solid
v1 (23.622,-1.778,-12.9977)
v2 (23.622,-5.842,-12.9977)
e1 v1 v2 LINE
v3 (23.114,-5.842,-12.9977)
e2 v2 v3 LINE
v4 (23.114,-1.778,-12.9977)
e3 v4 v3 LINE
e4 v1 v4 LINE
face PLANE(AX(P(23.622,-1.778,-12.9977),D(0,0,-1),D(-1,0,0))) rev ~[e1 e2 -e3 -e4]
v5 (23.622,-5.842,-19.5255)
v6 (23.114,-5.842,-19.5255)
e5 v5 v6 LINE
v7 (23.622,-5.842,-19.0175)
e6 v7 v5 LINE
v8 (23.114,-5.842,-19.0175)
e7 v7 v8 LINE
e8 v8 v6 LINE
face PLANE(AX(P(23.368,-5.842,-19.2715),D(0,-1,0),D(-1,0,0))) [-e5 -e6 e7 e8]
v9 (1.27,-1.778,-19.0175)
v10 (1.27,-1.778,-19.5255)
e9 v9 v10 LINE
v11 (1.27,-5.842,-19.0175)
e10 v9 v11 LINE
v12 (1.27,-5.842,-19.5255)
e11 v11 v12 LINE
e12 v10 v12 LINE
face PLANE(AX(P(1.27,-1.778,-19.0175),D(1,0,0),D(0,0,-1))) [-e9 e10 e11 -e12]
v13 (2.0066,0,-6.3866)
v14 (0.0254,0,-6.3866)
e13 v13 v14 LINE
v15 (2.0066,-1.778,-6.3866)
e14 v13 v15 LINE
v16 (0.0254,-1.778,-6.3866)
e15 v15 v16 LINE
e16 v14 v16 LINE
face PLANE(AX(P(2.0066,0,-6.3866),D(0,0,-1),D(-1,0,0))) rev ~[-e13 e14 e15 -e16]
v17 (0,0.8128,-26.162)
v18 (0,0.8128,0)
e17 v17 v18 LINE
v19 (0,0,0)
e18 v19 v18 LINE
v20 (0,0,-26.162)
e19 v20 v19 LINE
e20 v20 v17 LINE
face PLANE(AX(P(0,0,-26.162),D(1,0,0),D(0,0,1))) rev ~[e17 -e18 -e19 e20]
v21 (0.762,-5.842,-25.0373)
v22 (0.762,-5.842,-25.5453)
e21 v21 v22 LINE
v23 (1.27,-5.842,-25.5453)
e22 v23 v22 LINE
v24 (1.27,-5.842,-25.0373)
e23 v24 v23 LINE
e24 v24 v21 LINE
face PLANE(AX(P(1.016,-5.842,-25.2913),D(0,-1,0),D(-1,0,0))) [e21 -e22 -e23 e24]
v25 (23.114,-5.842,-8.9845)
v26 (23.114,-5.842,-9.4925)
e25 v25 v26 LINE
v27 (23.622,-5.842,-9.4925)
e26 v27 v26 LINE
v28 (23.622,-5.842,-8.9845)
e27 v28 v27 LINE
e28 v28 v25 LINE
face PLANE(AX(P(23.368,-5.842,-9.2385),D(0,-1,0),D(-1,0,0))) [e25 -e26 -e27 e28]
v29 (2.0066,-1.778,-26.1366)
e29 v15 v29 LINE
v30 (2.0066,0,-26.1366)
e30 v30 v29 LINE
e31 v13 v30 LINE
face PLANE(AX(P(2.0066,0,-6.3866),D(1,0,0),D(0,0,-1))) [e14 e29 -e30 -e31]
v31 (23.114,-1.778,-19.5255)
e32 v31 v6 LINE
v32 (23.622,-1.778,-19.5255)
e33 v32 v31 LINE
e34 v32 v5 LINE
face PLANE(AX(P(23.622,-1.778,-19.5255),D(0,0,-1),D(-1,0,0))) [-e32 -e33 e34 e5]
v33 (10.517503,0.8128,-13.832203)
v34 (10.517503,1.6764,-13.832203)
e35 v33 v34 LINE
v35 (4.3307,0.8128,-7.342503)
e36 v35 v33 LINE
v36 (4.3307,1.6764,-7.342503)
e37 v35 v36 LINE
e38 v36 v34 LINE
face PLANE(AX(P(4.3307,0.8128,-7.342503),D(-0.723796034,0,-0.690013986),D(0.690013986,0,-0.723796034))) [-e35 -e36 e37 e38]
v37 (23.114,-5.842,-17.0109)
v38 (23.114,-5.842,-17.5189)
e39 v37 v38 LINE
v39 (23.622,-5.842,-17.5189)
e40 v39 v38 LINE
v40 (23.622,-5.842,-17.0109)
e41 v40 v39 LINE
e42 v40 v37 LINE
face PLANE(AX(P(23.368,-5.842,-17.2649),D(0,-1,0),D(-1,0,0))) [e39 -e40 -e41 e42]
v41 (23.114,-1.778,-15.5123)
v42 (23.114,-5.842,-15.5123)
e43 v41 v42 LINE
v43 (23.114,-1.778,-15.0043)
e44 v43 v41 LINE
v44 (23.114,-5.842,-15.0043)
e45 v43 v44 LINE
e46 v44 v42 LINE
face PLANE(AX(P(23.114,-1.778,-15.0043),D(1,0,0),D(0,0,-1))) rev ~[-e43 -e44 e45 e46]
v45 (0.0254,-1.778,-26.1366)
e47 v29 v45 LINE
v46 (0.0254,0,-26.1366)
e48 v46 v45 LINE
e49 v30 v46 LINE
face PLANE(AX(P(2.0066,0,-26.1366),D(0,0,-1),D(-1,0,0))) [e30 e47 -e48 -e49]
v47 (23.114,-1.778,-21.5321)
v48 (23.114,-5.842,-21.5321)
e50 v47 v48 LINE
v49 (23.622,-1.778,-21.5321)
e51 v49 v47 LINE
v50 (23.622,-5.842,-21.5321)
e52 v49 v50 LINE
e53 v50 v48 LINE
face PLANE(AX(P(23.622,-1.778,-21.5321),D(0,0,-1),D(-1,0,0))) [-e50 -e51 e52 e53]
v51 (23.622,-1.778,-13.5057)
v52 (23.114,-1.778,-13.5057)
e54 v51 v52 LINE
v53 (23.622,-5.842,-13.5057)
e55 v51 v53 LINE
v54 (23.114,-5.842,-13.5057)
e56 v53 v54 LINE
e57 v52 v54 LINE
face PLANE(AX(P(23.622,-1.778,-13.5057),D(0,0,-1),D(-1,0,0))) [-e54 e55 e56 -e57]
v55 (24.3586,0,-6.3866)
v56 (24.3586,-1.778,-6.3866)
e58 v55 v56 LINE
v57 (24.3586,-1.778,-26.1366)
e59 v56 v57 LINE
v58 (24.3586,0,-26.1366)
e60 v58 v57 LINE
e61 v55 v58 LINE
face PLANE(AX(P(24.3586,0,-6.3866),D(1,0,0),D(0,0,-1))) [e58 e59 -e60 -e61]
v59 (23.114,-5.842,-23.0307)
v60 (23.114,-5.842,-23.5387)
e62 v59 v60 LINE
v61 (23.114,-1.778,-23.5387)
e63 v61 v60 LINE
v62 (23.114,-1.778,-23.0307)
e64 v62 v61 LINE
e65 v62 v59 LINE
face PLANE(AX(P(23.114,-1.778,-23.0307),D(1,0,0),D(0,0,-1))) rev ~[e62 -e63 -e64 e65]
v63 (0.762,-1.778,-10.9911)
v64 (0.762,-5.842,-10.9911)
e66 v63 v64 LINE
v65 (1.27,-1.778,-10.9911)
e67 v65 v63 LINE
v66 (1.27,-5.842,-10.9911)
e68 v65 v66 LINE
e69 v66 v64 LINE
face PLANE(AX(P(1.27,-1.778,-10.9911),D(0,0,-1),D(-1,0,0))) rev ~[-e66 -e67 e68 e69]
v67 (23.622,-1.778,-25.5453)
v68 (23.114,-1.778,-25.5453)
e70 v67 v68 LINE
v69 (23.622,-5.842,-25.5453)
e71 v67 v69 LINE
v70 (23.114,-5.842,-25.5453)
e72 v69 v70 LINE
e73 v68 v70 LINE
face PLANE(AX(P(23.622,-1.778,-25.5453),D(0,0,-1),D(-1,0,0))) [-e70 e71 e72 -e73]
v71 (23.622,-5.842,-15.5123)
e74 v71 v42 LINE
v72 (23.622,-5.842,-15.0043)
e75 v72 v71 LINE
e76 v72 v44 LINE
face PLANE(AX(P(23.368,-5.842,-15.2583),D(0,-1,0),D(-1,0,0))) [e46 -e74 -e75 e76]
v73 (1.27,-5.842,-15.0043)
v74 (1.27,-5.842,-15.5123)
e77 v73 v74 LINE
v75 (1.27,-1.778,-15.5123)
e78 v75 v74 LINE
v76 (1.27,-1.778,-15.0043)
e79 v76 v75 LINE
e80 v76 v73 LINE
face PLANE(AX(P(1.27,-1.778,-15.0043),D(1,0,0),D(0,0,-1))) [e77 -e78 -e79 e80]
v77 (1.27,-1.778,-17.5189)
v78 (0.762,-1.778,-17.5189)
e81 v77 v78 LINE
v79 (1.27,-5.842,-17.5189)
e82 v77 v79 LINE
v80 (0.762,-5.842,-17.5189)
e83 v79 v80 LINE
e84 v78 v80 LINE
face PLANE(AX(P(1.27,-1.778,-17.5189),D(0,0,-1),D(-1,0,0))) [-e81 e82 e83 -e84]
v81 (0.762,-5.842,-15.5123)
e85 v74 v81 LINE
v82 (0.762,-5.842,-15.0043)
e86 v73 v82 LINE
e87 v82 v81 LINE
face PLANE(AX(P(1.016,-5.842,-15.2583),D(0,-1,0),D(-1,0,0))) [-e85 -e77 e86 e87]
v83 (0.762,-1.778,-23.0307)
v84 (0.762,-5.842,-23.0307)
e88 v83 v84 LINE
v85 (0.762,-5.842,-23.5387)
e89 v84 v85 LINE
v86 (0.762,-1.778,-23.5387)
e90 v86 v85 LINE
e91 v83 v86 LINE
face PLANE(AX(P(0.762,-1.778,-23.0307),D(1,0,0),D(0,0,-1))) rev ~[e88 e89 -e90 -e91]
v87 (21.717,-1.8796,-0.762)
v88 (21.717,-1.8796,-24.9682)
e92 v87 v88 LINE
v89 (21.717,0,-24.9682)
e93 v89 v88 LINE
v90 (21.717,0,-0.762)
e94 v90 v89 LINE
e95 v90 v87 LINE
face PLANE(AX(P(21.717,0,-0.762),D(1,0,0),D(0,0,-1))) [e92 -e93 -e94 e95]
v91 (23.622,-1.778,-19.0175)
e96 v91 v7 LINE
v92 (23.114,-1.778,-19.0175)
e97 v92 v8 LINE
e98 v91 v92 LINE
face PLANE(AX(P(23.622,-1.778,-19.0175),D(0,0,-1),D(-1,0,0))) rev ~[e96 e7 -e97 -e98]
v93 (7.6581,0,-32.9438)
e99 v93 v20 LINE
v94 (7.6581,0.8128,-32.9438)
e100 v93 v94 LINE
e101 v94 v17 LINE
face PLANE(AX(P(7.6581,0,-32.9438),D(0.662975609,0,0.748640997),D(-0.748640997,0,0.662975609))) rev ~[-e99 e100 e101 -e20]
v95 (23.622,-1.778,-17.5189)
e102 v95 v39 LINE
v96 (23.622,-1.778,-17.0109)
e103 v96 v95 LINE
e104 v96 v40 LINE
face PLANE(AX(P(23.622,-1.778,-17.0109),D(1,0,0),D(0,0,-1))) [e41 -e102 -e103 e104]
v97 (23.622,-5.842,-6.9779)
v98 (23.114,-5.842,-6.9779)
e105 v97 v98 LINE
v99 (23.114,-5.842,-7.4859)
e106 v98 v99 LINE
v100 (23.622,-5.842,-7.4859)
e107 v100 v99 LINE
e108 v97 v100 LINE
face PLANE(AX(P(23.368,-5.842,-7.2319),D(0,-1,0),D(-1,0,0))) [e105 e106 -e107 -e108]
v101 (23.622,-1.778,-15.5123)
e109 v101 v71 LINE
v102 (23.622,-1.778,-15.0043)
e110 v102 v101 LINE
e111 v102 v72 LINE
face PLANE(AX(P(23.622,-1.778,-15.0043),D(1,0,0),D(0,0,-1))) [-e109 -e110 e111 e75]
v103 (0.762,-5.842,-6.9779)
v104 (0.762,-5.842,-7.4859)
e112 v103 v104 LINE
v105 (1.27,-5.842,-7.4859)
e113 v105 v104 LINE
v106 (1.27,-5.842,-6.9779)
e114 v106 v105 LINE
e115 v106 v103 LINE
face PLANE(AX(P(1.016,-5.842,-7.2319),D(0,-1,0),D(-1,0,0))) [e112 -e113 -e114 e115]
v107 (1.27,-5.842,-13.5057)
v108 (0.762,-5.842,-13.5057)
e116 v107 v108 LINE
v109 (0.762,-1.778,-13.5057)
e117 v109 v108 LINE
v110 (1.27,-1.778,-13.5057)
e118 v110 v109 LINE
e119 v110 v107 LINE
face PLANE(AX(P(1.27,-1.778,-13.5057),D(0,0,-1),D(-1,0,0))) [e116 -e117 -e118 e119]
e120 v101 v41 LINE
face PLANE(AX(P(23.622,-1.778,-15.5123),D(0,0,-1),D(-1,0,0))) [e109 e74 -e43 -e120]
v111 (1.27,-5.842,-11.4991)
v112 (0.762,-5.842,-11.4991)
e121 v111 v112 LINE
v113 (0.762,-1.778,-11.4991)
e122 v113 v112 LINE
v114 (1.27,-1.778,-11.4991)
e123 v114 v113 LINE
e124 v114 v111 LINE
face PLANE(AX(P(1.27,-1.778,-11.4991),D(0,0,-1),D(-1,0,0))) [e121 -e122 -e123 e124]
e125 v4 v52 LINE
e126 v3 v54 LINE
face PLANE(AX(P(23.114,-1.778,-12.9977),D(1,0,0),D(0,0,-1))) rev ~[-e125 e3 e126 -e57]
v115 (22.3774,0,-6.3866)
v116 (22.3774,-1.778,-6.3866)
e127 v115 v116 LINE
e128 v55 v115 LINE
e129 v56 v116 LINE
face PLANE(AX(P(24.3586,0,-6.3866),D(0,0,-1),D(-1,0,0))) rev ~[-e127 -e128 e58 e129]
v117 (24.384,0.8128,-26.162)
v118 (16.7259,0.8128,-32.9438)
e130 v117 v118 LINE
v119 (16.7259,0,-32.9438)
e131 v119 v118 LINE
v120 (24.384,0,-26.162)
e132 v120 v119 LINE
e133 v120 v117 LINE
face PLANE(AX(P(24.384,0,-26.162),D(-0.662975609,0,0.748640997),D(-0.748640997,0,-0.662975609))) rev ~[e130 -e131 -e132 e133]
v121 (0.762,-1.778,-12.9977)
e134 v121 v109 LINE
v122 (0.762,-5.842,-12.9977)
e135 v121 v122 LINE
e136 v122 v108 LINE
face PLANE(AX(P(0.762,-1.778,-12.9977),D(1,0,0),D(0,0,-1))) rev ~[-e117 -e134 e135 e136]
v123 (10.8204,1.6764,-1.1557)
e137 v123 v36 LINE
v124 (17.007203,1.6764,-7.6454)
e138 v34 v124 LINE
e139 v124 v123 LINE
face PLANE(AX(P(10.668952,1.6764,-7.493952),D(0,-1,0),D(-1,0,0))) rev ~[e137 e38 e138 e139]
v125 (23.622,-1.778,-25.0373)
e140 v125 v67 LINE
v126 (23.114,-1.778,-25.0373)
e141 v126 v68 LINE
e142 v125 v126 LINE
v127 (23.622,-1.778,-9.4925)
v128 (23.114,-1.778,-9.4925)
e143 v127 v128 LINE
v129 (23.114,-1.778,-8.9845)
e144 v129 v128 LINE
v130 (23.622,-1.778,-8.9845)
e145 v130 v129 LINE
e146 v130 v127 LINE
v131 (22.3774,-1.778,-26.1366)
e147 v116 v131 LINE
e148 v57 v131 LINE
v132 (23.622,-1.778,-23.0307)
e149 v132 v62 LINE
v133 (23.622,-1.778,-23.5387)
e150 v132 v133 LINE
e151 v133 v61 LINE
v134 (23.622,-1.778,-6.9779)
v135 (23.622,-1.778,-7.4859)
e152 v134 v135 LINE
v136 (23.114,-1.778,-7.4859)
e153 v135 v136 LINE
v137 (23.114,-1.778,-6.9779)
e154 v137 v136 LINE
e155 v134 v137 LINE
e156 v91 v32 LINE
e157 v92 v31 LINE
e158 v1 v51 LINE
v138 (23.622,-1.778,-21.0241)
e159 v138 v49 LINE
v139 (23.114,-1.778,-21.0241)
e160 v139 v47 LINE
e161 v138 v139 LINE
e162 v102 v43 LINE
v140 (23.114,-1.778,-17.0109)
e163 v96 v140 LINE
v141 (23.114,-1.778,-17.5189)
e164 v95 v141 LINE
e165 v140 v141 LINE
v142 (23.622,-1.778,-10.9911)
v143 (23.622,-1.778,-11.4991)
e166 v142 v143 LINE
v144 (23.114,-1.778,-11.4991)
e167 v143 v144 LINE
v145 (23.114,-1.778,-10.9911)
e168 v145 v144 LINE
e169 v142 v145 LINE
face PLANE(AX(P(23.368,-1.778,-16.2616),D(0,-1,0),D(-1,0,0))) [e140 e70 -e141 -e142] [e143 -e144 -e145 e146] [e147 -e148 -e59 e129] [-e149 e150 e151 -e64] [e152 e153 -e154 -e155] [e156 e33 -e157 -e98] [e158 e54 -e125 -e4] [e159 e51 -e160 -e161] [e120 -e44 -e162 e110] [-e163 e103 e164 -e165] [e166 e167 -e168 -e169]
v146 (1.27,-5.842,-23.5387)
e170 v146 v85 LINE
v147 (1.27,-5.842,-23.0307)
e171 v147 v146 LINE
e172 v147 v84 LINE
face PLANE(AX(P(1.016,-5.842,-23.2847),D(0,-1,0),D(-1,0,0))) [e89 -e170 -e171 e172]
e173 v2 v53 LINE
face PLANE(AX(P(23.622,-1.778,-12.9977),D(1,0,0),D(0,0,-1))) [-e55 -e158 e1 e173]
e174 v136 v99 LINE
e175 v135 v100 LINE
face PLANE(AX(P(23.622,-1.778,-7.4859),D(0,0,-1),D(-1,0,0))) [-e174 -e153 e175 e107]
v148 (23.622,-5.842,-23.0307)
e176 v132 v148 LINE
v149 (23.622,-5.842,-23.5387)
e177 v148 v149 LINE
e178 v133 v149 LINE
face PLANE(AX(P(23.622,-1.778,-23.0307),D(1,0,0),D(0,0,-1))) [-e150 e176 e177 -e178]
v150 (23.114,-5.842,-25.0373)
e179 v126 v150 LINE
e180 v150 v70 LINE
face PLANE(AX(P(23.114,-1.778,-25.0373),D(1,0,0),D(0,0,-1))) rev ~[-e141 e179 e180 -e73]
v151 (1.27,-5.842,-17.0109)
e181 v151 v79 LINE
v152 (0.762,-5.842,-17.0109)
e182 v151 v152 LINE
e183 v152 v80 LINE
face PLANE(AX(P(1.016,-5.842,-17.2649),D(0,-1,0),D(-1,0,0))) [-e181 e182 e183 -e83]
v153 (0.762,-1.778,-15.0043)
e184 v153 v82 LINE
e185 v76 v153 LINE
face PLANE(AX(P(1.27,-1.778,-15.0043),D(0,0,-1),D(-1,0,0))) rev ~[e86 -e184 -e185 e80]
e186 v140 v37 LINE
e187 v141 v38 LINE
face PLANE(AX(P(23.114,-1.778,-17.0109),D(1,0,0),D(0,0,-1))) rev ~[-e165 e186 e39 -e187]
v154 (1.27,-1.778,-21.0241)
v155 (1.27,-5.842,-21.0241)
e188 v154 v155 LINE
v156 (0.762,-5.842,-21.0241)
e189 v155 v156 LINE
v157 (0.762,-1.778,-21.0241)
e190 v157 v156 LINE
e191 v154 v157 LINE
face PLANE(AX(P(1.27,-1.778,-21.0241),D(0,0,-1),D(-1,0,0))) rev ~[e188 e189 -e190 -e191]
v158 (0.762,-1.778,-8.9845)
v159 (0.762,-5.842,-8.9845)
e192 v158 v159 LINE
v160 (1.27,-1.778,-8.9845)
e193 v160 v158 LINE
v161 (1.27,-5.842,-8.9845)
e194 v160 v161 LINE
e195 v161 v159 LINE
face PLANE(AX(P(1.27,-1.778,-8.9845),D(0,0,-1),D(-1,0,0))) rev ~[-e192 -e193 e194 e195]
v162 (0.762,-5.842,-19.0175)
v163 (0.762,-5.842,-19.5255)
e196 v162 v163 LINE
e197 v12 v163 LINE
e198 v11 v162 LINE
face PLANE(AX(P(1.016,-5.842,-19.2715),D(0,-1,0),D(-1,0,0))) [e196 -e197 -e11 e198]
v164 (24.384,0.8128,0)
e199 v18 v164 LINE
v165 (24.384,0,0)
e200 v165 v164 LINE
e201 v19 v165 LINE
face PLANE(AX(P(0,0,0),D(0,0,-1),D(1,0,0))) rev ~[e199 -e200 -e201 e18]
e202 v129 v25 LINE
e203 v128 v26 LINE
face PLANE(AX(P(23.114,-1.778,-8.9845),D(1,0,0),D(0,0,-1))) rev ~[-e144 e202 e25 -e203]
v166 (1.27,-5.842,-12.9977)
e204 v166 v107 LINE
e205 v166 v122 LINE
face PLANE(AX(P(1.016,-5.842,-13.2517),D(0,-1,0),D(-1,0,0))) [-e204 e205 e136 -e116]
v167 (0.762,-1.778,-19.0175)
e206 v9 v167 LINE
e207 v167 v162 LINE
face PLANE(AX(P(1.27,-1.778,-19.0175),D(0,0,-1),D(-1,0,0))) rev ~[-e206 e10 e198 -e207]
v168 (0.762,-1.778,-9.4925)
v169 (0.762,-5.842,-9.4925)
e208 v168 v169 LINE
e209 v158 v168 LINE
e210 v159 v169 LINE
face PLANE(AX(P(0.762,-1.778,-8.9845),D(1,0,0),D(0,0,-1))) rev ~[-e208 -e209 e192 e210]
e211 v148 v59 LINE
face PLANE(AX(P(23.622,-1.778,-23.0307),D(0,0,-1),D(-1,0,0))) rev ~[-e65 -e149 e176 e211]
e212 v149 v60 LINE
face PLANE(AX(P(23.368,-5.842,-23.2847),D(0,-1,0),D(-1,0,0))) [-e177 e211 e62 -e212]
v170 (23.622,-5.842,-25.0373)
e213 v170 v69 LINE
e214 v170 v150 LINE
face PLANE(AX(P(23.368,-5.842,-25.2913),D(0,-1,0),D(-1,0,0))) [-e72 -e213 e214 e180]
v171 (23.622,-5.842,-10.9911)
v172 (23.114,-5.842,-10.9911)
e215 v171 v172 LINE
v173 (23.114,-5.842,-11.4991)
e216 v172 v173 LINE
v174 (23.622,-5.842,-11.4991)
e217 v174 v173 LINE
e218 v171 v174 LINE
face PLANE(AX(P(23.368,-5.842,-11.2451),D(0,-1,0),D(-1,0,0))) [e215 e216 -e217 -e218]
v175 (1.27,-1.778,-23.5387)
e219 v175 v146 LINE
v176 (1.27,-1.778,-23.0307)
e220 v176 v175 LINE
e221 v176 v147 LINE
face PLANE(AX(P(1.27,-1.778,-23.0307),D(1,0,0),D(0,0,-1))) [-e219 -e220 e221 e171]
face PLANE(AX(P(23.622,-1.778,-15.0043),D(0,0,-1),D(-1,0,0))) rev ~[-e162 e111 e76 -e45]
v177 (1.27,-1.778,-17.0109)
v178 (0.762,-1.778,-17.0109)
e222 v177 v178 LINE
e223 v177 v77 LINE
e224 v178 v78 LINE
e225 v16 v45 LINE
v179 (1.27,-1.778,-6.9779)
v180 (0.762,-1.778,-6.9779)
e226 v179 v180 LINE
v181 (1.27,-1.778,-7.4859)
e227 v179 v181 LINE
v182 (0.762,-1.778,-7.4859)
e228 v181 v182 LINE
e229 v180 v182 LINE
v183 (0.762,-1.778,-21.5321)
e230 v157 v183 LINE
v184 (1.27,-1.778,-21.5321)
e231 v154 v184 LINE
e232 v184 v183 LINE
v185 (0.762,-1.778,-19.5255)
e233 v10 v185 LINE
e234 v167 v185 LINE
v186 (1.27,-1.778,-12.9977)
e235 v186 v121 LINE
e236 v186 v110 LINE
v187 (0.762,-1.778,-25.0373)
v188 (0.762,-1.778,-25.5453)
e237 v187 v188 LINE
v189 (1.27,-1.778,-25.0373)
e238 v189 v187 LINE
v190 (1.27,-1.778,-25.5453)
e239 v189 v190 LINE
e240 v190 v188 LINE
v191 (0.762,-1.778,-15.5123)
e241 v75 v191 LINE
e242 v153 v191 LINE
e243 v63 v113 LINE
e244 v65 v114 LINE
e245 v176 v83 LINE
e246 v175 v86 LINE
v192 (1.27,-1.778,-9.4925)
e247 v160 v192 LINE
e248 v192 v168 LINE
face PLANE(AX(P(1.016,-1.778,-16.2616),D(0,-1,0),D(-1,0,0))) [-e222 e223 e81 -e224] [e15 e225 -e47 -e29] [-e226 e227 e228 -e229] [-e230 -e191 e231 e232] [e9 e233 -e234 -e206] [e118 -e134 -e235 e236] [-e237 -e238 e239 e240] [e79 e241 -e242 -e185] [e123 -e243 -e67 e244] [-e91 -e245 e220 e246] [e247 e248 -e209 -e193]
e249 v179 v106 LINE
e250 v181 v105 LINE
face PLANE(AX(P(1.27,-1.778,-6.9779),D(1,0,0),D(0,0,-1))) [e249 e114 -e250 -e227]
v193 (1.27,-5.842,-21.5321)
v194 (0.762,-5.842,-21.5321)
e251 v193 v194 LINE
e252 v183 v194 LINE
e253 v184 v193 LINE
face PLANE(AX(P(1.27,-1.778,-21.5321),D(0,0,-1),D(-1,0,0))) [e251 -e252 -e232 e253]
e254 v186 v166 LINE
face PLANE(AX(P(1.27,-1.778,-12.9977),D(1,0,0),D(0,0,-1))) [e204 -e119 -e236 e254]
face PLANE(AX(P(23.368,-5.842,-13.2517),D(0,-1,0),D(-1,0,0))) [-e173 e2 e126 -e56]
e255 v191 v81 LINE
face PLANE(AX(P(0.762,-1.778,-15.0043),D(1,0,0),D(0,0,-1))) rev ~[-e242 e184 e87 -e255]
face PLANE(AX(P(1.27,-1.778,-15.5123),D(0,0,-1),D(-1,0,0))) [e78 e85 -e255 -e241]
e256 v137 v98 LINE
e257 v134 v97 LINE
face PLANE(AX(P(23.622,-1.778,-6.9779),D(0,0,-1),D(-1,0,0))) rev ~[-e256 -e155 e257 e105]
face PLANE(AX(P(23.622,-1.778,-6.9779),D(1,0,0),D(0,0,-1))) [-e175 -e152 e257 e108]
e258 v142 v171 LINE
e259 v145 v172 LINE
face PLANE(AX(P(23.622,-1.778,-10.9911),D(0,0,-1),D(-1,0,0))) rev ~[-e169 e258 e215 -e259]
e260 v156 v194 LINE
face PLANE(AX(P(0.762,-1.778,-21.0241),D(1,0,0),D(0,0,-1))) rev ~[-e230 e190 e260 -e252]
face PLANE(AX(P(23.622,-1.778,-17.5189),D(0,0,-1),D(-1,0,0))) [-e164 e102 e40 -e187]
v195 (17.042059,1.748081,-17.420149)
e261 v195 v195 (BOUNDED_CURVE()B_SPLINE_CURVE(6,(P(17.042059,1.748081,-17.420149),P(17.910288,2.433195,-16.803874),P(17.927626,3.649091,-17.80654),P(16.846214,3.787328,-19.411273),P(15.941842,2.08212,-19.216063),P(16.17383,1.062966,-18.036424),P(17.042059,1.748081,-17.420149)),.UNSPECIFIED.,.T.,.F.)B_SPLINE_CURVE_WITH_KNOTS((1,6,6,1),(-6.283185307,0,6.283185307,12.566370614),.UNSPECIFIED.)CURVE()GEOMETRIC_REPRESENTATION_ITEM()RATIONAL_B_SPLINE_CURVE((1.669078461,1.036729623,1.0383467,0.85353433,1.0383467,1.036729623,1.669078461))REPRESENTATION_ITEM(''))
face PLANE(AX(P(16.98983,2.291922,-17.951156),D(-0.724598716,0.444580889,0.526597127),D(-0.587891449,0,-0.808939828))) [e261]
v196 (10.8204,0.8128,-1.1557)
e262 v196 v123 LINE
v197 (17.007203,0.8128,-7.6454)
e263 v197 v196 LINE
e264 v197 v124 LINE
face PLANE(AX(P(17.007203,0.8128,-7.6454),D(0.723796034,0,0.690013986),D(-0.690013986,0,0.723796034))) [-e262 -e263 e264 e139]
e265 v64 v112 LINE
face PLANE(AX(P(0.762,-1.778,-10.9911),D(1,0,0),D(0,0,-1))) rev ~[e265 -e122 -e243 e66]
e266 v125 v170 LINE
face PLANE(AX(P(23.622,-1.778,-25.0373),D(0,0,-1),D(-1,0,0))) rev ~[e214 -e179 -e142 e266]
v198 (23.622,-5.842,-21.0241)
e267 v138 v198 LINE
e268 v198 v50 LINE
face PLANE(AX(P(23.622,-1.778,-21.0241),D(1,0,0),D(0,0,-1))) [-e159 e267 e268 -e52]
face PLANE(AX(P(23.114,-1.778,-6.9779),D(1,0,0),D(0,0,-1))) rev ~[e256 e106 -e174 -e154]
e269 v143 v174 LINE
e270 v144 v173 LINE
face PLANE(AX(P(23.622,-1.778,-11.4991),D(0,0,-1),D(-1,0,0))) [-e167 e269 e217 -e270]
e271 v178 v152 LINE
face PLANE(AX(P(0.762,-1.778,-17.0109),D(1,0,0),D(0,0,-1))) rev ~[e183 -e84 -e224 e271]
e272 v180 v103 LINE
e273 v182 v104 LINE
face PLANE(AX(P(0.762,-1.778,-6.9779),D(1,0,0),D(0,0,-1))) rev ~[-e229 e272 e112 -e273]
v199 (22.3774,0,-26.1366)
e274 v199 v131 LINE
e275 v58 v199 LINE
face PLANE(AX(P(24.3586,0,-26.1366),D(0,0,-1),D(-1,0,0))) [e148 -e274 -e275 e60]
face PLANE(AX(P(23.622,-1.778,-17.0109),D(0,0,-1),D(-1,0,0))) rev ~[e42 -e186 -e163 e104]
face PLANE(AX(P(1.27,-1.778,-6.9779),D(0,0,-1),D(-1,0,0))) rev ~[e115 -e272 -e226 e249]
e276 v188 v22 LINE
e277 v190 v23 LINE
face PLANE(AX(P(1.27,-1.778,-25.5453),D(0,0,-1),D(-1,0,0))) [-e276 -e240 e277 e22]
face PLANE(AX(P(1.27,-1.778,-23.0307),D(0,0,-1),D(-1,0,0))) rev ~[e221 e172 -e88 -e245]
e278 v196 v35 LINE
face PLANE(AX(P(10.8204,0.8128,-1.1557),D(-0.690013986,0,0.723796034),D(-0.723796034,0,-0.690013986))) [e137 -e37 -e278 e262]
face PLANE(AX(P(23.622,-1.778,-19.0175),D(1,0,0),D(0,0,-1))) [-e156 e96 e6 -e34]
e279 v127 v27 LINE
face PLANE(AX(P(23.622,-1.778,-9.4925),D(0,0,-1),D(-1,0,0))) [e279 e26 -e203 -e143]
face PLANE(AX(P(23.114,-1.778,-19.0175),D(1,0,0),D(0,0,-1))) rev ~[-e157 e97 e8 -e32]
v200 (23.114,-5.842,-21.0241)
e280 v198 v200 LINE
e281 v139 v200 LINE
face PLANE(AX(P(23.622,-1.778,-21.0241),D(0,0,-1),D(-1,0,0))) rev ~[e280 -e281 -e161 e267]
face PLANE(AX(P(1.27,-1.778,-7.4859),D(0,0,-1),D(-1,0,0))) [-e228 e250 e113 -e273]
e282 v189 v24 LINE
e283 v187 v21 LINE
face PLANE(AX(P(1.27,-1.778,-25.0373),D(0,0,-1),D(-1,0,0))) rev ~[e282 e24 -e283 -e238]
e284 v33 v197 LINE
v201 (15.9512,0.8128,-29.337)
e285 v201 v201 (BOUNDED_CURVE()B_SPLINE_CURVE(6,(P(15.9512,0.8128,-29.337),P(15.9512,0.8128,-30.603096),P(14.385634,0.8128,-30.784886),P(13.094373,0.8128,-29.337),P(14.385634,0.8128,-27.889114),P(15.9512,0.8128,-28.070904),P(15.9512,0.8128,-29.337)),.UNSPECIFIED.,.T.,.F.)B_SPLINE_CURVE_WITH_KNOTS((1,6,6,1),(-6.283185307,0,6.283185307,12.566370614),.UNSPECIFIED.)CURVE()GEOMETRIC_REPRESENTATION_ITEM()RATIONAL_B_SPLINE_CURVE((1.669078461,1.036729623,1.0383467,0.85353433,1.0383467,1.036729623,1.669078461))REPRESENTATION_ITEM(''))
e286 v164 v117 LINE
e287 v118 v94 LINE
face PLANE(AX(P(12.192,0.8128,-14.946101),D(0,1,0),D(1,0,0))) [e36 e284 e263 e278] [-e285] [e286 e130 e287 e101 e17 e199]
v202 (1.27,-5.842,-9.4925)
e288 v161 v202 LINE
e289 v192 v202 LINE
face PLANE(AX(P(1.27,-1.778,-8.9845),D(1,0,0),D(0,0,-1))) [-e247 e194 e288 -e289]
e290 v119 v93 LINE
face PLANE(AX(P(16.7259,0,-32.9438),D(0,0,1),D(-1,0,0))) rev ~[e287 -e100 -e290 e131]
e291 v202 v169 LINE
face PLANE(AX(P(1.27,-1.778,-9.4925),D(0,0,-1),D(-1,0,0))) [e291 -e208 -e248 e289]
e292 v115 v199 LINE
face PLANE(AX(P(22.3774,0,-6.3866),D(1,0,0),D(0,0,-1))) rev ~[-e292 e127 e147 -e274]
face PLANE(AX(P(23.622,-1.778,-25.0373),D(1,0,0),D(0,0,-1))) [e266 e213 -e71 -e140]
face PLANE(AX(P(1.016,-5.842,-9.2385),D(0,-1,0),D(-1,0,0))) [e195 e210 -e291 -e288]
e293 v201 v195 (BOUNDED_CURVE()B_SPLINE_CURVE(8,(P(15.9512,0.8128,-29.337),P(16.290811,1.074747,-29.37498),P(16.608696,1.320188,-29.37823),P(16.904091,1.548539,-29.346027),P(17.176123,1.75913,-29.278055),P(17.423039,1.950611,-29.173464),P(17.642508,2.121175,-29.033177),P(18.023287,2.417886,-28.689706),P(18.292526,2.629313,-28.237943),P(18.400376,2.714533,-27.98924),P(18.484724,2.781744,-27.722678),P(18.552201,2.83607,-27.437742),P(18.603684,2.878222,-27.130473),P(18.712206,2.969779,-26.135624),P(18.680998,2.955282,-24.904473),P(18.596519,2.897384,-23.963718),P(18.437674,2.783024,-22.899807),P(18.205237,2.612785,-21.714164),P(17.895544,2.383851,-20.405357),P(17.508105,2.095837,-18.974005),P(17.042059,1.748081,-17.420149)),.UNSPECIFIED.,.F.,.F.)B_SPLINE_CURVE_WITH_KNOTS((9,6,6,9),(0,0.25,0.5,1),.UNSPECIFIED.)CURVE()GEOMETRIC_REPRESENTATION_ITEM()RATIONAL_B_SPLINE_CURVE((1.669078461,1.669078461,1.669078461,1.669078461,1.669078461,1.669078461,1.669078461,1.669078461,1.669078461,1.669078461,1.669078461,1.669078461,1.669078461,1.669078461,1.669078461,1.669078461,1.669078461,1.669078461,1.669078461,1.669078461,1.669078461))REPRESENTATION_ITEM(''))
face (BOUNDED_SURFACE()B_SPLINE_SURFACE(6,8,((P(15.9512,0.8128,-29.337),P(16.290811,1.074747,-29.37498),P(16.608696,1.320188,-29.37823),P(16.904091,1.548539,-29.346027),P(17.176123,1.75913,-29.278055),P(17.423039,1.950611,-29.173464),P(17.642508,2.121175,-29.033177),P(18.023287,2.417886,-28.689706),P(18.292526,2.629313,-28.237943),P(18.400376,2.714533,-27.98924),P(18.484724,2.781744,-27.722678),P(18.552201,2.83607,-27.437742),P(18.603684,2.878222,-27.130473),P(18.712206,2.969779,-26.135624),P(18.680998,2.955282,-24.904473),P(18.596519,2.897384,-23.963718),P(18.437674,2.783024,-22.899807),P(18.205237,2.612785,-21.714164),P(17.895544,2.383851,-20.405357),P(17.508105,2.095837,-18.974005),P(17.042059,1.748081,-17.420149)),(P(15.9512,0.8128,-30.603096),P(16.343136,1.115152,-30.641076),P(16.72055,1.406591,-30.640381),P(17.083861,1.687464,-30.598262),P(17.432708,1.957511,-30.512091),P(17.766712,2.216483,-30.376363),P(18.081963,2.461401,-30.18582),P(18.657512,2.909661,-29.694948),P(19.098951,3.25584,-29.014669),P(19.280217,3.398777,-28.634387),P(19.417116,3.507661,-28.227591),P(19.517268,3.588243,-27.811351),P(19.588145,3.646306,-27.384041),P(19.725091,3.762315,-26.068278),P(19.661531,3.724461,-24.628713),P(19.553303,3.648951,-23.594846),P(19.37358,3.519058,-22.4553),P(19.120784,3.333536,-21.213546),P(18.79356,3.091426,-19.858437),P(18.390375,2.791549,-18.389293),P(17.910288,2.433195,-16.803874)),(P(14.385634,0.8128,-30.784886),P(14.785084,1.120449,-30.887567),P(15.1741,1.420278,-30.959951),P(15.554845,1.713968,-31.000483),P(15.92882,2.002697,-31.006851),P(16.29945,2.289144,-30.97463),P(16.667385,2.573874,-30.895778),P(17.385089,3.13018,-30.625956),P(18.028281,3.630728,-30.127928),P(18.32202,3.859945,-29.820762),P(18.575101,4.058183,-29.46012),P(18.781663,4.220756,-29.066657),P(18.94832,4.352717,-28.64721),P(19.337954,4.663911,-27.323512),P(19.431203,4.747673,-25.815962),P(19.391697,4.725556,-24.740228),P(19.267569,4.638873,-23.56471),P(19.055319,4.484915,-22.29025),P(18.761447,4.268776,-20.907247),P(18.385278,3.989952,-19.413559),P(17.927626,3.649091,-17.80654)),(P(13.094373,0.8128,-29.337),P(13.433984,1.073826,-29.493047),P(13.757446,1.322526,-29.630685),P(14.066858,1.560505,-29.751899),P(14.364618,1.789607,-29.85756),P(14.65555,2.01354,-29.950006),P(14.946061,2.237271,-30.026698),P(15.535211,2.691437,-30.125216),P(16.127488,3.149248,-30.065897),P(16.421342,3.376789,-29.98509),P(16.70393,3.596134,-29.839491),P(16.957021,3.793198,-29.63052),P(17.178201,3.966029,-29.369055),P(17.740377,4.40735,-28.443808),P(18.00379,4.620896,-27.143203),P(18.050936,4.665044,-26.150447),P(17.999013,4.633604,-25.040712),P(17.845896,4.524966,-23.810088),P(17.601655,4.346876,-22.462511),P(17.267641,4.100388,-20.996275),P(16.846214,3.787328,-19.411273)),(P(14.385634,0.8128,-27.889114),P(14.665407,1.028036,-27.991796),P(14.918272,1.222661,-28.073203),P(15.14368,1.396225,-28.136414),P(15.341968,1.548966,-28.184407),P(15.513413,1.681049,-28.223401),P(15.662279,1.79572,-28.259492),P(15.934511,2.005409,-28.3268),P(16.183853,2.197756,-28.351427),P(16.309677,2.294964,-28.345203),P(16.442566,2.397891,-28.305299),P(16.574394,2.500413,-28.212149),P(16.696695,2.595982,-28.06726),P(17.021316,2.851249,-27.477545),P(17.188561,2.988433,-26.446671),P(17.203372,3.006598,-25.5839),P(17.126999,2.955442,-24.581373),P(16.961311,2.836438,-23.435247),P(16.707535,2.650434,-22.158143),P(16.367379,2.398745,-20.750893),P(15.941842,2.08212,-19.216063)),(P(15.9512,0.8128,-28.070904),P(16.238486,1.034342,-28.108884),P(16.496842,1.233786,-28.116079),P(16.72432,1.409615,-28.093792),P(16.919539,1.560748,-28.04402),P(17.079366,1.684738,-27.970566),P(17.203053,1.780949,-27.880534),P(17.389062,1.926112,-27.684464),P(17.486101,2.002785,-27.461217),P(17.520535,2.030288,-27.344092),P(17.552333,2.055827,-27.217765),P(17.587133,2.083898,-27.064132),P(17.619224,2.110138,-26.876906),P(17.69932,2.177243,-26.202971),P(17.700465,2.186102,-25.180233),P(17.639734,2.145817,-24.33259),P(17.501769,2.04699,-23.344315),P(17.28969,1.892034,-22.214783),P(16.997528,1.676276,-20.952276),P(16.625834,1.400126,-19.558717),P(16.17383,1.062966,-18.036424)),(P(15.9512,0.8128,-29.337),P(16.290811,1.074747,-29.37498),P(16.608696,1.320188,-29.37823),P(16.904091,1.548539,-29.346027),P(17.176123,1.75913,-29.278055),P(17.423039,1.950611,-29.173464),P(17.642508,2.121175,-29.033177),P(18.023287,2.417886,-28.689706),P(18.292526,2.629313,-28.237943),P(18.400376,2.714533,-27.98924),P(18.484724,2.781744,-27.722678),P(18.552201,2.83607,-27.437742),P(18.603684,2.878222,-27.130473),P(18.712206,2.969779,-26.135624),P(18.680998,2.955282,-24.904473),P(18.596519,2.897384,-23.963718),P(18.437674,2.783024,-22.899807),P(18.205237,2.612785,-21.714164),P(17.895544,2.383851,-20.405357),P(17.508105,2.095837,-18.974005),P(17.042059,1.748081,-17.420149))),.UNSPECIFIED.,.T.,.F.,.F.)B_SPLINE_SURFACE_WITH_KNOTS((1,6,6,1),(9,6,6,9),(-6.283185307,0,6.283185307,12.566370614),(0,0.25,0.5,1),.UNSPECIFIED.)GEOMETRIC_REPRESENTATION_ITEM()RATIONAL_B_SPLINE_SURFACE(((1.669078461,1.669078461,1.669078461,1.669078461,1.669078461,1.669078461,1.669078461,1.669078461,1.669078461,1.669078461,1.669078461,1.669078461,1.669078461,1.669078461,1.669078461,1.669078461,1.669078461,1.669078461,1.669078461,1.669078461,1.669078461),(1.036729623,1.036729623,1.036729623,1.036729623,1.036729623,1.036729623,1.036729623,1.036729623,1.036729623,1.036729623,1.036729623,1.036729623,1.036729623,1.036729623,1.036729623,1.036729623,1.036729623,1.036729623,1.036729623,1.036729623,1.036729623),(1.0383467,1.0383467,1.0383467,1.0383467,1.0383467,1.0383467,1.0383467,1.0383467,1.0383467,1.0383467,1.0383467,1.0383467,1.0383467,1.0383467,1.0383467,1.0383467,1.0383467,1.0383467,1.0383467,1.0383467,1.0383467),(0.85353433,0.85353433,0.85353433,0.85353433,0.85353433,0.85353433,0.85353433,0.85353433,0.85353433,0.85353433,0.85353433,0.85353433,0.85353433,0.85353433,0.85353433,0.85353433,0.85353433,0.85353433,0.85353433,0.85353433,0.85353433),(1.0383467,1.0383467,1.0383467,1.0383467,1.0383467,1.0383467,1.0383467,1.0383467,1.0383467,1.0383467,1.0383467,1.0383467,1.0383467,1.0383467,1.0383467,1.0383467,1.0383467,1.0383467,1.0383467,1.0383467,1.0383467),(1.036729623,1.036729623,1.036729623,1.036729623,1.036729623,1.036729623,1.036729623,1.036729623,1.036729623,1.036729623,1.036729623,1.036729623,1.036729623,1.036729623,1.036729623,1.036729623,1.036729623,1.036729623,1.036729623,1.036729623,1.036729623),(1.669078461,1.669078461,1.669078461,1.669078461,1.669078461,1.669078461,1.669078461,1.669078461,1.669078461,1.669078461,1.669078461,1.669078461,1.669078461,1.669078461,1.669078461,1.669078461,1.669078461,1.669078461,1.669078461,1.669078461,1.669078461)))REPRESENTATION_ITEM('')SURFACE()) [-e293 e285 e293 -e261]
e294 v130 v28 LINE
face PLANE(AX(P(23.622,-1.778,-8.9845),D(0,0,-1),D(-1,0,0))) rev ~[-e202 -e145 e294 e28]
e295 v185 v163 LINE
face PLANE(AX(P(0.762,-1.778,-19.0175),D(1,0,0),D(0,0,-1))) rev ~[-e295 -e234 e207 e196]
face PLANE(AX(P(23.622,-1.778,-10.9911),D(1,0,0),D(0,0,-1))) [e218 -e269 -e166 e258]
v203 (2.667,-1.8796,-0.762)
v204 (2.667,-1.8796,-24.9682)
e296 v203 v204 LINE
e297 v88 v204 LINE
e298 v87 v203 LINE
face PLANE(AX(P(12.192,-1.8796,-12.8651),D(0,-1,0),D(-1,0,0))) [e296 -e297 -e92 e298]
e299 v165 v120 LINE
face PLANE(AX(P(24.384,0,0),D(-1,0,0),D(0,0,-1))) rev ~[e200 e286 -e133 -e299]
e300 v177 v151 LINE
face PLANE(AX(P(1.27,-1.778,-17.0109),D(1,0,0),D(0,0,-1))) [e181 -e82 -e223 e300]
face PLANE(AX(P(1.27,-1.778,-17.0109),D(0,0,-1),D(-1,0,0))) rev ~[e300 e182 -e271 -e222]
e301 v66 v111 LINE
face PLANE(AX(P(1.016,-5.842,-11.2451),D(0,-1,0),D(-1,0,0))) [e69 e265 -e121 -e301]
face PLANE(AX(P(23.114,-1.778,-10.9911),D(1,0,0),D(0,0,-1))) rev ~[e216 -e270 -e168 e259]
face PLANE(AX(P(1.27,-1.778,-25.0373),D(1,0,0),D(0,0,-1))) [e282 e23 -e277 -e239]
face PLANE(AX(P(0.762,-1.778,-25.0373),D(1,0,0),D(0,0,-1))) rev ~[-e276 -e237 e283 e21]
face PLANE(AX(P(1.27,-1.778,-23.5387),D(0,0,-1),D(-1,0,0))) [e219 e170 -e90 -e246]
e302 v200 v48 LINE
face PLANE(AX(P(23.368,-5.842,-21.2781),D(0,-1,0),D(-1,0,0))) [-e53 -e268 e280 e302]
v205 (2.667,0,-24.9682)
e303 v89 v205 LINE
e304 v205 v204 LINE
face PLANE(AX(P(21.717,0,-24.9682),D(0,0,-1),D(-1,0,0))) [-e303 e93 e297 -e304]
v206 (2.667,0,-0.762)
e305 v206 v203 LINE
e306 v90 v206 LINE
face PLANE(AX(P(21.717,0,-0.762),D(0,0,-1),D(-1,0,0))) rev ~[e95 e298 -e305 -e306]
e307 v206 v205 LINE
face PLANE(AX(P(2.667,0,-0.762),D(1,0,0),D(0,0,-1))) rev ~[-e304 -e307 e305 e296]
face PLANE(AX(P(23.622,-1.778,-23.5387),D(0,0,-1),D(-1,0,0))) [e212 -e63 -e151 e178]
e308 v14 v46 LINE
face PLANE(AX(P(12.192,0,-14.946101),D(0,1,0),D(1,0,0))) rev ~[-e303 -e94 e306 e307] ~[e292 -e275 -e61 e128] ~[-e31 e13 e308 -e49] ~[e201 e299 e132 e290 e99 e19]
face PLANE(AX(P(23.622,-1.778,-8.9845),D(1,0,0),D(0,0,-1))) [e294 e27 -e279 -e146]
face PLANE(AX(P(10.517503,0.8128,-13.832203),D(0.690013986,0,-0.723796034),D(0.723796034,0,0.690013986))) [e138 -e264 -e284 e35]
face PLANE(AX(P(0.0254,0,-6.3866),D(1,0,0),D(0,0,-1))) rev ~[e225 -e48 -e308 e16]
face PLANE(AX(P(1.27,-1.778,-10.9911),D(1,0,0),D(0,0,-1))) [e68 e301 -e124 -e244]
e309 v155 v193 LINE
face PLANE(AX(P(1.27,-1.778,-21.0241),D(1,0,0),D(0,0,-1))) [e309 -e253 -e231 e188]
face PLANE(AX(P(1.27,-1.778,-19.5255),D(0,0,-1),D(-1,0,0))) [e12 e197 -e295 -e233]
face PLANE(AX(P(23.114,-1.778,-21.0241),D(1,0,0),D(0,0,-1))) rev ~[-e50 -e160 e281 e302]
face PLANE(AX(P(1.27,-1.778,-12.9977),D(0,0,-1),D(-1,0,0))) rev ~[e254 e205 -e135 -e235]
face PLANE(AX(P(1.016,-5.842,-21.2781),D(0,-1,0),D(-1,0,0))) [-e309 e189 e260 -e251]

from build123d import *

# Parameters (mm, degrees)
BOSS_EXTRUDE1_DEPTH = 0.8128
SKETCH2_W           = 19.05
SKETCH2_H           = 24.2062
BOSS_EXTRUDE2_DEPTH = 1.8796
BOSS_EXTRUDE3_DEPTH = 0.8636
SKETCH4_W           = 1.9812
SKETCH4_H           = 19.75
BOSS_EXTRUDE4_DEPTH = 1.778
SKETCH5_W           = 0.508
SKETCH5_H           = 0.508
BOSS_EXTRUDE5_DEPTH = 4.064
SKETCH6_R           = 0.762


with BuildPart() as part:
    # Sketch1 → Boss-Extrude1 (new body)
    with BuildSketch(Plane(origin=(0, 0, 0), x_dir=(1, 0, 0), z_dir=(0, 1, 0))):
        Polygon((0, 0), (24.384, 0), (24.384, 26.162), (16.7259, 32.9438), (7.6581, 32.9438), (0, 26.162), align=None)
    extrude(amount=BOSS_EXTRUDE1_DEPTH)

    # Sketch2 → Boss-Extrude2 (add)
    with BuildSketch(Plane(origin=(0, 0, 0), x_dir=(-1, 0, 0), z_dir=(0, -1, 0))):
        with Locations((-12.192, 12.8651)):
            Rectangle(SKETCH2_W, SKETCH2_H)
    extrude(amount=BOSS_EXTRUDE2_DEPTH)

    # Sketch3 → Boss-Extrude3 (add)
    with BuildSketch(Plane(origin=(0, 0.8128, 0), x_dir=(1, 0, 0), z_dir=(0, 1, 0))):
        Polygon((4.3307, 7.342503403), (10.517503403, 13.832203403), (17.007203403, 7.6454), (10.8204, 1.1557), align=None)
    extrude(amount=BOSS_EXTRUDE3_DEPTH)

    # Sketch4 → Boss-Extrude4 (add)
    with BuildSketch(Plane(origin=(0, 0, 0), x_dir=(-1, 0, 0), z_dir=(0, -1, 0))):
        with Locations((-1.016, 16.2616)):
            Rectangle(SKETCH4_W, SKETCH4_H)
        with Locations((-23.368, 16.2616)):
            Rectangle(SKETCH4_W, SKETCH4_H)
    extrude(amount=BOSS_EXTRUDE4_DEPTH)

    # Sketch5 → Boss-Extrude5 (add)
    with BuildSketch(Plane(origin=(0, -1.778, 0), x_dir=(-1, 0, 0), z_dir=(0, -1, 0))):
        with Locations((-23.368, 25.2913)):
            Rectangle(SKETCH5_W, SKETCH5_H)
        with Locations((-23.368, 23.2847)):
            Rectangle(SKETCH5_W, SKETCH5_H)
        with Locations((-23.368, 21.2781)):
            Rectangle(SKETCH5_W, SKETCH5_H)
        with Locations((-23.368, 19.2715)):
            Rectangle(SKETCH5_W, SKETCH5_H)
        with Locations((-23.368, 17.2649)):
            Rectangle(SKETCH5_W, SKETCH5_H)
        with Locations((-23.368, 15.2583)):
            Rectangle(SKETCH5_W, SKETCH5_H)
        with Locations((-23.368, 13.2517)):
            Rectangle(SKETCH5_W, SKETCH5_H)
        with Locations((-23.368, 11.2451)):
            Rectangle(SKETCH5_W, SKETCH5_H)
        with Locations((-23.368, 9.2385)):
            Rectangle(SKETCH5_W, SKETCH5_H)
        with Locations((-23.368, 7.2319)):
            Rectangle(SKETCH5_W, SKETCH5_H)
        with Locations((-1.016, 7.2319)):
            Rectangle(SKETCH5_W, SKETCH5_H)
        with Locations((-1.016, 9.2385)):
            Rectangle(SKETCH5_W, SKETCH5_H)
        with Locations((-1.016, 11.2451)):
            Rectangle(SKETCH5_W, SKETCH5_H)
        with Locations((-1.016, 13.2517)):
            Rectangle(SKETCH5_W, SKETCH5_H)
        with Locations((-1.016, 15.2583)):
            Rectangle(SKETCH5_W, SKETCH5_H)
        with Locations((-1.016, 17.2649)):
            Rectangle(SKETCH5_W, SKETCH5_H)
        with Locations((-1.016, 19.2715)):
            Rectangle(SKETCH5_W, SKETCH5_H)
        with Locations((-1.016, 21.2781)):
            Rectangle(SKETCH5_W, SKETCH5_H)
        with Locations((-1.016, 23.2847)):
            Rectangle(SKETCH5_W, SKETCH5_H)
        with Locations((-1.016, 25.2913)):
            Rectangle(SKETCH5_W, SKETCH5_H)
    extrude(amount=BOSS_EXTRUDE5_DEPTH)

    # Sweep2: sweep along a curve in space
    with BuildLine() as sweep2_path:
        add(Edge.make_bspline(
            [(15.1892, 0.8128, -29.337), (20.622976284, 5.000023383, -30.448552109), (16.989821563, 2.292008104, -17.951240105)],
            knots=[0, 0, 0, 1, 1, 1], degree=2))
    # Sketch6 → Sweep2 (sweep)
    with BuildSketch(Plane(origin=(0, 0.8128, 0), x_dir=(1, 0, 0), z_dir=(0, 1, 0))):
        with Locations((15.1892, 29.337)):
            Circle(SKETCH6_R)
    sweep(path=sweep2_path.line)


solid = part.part
